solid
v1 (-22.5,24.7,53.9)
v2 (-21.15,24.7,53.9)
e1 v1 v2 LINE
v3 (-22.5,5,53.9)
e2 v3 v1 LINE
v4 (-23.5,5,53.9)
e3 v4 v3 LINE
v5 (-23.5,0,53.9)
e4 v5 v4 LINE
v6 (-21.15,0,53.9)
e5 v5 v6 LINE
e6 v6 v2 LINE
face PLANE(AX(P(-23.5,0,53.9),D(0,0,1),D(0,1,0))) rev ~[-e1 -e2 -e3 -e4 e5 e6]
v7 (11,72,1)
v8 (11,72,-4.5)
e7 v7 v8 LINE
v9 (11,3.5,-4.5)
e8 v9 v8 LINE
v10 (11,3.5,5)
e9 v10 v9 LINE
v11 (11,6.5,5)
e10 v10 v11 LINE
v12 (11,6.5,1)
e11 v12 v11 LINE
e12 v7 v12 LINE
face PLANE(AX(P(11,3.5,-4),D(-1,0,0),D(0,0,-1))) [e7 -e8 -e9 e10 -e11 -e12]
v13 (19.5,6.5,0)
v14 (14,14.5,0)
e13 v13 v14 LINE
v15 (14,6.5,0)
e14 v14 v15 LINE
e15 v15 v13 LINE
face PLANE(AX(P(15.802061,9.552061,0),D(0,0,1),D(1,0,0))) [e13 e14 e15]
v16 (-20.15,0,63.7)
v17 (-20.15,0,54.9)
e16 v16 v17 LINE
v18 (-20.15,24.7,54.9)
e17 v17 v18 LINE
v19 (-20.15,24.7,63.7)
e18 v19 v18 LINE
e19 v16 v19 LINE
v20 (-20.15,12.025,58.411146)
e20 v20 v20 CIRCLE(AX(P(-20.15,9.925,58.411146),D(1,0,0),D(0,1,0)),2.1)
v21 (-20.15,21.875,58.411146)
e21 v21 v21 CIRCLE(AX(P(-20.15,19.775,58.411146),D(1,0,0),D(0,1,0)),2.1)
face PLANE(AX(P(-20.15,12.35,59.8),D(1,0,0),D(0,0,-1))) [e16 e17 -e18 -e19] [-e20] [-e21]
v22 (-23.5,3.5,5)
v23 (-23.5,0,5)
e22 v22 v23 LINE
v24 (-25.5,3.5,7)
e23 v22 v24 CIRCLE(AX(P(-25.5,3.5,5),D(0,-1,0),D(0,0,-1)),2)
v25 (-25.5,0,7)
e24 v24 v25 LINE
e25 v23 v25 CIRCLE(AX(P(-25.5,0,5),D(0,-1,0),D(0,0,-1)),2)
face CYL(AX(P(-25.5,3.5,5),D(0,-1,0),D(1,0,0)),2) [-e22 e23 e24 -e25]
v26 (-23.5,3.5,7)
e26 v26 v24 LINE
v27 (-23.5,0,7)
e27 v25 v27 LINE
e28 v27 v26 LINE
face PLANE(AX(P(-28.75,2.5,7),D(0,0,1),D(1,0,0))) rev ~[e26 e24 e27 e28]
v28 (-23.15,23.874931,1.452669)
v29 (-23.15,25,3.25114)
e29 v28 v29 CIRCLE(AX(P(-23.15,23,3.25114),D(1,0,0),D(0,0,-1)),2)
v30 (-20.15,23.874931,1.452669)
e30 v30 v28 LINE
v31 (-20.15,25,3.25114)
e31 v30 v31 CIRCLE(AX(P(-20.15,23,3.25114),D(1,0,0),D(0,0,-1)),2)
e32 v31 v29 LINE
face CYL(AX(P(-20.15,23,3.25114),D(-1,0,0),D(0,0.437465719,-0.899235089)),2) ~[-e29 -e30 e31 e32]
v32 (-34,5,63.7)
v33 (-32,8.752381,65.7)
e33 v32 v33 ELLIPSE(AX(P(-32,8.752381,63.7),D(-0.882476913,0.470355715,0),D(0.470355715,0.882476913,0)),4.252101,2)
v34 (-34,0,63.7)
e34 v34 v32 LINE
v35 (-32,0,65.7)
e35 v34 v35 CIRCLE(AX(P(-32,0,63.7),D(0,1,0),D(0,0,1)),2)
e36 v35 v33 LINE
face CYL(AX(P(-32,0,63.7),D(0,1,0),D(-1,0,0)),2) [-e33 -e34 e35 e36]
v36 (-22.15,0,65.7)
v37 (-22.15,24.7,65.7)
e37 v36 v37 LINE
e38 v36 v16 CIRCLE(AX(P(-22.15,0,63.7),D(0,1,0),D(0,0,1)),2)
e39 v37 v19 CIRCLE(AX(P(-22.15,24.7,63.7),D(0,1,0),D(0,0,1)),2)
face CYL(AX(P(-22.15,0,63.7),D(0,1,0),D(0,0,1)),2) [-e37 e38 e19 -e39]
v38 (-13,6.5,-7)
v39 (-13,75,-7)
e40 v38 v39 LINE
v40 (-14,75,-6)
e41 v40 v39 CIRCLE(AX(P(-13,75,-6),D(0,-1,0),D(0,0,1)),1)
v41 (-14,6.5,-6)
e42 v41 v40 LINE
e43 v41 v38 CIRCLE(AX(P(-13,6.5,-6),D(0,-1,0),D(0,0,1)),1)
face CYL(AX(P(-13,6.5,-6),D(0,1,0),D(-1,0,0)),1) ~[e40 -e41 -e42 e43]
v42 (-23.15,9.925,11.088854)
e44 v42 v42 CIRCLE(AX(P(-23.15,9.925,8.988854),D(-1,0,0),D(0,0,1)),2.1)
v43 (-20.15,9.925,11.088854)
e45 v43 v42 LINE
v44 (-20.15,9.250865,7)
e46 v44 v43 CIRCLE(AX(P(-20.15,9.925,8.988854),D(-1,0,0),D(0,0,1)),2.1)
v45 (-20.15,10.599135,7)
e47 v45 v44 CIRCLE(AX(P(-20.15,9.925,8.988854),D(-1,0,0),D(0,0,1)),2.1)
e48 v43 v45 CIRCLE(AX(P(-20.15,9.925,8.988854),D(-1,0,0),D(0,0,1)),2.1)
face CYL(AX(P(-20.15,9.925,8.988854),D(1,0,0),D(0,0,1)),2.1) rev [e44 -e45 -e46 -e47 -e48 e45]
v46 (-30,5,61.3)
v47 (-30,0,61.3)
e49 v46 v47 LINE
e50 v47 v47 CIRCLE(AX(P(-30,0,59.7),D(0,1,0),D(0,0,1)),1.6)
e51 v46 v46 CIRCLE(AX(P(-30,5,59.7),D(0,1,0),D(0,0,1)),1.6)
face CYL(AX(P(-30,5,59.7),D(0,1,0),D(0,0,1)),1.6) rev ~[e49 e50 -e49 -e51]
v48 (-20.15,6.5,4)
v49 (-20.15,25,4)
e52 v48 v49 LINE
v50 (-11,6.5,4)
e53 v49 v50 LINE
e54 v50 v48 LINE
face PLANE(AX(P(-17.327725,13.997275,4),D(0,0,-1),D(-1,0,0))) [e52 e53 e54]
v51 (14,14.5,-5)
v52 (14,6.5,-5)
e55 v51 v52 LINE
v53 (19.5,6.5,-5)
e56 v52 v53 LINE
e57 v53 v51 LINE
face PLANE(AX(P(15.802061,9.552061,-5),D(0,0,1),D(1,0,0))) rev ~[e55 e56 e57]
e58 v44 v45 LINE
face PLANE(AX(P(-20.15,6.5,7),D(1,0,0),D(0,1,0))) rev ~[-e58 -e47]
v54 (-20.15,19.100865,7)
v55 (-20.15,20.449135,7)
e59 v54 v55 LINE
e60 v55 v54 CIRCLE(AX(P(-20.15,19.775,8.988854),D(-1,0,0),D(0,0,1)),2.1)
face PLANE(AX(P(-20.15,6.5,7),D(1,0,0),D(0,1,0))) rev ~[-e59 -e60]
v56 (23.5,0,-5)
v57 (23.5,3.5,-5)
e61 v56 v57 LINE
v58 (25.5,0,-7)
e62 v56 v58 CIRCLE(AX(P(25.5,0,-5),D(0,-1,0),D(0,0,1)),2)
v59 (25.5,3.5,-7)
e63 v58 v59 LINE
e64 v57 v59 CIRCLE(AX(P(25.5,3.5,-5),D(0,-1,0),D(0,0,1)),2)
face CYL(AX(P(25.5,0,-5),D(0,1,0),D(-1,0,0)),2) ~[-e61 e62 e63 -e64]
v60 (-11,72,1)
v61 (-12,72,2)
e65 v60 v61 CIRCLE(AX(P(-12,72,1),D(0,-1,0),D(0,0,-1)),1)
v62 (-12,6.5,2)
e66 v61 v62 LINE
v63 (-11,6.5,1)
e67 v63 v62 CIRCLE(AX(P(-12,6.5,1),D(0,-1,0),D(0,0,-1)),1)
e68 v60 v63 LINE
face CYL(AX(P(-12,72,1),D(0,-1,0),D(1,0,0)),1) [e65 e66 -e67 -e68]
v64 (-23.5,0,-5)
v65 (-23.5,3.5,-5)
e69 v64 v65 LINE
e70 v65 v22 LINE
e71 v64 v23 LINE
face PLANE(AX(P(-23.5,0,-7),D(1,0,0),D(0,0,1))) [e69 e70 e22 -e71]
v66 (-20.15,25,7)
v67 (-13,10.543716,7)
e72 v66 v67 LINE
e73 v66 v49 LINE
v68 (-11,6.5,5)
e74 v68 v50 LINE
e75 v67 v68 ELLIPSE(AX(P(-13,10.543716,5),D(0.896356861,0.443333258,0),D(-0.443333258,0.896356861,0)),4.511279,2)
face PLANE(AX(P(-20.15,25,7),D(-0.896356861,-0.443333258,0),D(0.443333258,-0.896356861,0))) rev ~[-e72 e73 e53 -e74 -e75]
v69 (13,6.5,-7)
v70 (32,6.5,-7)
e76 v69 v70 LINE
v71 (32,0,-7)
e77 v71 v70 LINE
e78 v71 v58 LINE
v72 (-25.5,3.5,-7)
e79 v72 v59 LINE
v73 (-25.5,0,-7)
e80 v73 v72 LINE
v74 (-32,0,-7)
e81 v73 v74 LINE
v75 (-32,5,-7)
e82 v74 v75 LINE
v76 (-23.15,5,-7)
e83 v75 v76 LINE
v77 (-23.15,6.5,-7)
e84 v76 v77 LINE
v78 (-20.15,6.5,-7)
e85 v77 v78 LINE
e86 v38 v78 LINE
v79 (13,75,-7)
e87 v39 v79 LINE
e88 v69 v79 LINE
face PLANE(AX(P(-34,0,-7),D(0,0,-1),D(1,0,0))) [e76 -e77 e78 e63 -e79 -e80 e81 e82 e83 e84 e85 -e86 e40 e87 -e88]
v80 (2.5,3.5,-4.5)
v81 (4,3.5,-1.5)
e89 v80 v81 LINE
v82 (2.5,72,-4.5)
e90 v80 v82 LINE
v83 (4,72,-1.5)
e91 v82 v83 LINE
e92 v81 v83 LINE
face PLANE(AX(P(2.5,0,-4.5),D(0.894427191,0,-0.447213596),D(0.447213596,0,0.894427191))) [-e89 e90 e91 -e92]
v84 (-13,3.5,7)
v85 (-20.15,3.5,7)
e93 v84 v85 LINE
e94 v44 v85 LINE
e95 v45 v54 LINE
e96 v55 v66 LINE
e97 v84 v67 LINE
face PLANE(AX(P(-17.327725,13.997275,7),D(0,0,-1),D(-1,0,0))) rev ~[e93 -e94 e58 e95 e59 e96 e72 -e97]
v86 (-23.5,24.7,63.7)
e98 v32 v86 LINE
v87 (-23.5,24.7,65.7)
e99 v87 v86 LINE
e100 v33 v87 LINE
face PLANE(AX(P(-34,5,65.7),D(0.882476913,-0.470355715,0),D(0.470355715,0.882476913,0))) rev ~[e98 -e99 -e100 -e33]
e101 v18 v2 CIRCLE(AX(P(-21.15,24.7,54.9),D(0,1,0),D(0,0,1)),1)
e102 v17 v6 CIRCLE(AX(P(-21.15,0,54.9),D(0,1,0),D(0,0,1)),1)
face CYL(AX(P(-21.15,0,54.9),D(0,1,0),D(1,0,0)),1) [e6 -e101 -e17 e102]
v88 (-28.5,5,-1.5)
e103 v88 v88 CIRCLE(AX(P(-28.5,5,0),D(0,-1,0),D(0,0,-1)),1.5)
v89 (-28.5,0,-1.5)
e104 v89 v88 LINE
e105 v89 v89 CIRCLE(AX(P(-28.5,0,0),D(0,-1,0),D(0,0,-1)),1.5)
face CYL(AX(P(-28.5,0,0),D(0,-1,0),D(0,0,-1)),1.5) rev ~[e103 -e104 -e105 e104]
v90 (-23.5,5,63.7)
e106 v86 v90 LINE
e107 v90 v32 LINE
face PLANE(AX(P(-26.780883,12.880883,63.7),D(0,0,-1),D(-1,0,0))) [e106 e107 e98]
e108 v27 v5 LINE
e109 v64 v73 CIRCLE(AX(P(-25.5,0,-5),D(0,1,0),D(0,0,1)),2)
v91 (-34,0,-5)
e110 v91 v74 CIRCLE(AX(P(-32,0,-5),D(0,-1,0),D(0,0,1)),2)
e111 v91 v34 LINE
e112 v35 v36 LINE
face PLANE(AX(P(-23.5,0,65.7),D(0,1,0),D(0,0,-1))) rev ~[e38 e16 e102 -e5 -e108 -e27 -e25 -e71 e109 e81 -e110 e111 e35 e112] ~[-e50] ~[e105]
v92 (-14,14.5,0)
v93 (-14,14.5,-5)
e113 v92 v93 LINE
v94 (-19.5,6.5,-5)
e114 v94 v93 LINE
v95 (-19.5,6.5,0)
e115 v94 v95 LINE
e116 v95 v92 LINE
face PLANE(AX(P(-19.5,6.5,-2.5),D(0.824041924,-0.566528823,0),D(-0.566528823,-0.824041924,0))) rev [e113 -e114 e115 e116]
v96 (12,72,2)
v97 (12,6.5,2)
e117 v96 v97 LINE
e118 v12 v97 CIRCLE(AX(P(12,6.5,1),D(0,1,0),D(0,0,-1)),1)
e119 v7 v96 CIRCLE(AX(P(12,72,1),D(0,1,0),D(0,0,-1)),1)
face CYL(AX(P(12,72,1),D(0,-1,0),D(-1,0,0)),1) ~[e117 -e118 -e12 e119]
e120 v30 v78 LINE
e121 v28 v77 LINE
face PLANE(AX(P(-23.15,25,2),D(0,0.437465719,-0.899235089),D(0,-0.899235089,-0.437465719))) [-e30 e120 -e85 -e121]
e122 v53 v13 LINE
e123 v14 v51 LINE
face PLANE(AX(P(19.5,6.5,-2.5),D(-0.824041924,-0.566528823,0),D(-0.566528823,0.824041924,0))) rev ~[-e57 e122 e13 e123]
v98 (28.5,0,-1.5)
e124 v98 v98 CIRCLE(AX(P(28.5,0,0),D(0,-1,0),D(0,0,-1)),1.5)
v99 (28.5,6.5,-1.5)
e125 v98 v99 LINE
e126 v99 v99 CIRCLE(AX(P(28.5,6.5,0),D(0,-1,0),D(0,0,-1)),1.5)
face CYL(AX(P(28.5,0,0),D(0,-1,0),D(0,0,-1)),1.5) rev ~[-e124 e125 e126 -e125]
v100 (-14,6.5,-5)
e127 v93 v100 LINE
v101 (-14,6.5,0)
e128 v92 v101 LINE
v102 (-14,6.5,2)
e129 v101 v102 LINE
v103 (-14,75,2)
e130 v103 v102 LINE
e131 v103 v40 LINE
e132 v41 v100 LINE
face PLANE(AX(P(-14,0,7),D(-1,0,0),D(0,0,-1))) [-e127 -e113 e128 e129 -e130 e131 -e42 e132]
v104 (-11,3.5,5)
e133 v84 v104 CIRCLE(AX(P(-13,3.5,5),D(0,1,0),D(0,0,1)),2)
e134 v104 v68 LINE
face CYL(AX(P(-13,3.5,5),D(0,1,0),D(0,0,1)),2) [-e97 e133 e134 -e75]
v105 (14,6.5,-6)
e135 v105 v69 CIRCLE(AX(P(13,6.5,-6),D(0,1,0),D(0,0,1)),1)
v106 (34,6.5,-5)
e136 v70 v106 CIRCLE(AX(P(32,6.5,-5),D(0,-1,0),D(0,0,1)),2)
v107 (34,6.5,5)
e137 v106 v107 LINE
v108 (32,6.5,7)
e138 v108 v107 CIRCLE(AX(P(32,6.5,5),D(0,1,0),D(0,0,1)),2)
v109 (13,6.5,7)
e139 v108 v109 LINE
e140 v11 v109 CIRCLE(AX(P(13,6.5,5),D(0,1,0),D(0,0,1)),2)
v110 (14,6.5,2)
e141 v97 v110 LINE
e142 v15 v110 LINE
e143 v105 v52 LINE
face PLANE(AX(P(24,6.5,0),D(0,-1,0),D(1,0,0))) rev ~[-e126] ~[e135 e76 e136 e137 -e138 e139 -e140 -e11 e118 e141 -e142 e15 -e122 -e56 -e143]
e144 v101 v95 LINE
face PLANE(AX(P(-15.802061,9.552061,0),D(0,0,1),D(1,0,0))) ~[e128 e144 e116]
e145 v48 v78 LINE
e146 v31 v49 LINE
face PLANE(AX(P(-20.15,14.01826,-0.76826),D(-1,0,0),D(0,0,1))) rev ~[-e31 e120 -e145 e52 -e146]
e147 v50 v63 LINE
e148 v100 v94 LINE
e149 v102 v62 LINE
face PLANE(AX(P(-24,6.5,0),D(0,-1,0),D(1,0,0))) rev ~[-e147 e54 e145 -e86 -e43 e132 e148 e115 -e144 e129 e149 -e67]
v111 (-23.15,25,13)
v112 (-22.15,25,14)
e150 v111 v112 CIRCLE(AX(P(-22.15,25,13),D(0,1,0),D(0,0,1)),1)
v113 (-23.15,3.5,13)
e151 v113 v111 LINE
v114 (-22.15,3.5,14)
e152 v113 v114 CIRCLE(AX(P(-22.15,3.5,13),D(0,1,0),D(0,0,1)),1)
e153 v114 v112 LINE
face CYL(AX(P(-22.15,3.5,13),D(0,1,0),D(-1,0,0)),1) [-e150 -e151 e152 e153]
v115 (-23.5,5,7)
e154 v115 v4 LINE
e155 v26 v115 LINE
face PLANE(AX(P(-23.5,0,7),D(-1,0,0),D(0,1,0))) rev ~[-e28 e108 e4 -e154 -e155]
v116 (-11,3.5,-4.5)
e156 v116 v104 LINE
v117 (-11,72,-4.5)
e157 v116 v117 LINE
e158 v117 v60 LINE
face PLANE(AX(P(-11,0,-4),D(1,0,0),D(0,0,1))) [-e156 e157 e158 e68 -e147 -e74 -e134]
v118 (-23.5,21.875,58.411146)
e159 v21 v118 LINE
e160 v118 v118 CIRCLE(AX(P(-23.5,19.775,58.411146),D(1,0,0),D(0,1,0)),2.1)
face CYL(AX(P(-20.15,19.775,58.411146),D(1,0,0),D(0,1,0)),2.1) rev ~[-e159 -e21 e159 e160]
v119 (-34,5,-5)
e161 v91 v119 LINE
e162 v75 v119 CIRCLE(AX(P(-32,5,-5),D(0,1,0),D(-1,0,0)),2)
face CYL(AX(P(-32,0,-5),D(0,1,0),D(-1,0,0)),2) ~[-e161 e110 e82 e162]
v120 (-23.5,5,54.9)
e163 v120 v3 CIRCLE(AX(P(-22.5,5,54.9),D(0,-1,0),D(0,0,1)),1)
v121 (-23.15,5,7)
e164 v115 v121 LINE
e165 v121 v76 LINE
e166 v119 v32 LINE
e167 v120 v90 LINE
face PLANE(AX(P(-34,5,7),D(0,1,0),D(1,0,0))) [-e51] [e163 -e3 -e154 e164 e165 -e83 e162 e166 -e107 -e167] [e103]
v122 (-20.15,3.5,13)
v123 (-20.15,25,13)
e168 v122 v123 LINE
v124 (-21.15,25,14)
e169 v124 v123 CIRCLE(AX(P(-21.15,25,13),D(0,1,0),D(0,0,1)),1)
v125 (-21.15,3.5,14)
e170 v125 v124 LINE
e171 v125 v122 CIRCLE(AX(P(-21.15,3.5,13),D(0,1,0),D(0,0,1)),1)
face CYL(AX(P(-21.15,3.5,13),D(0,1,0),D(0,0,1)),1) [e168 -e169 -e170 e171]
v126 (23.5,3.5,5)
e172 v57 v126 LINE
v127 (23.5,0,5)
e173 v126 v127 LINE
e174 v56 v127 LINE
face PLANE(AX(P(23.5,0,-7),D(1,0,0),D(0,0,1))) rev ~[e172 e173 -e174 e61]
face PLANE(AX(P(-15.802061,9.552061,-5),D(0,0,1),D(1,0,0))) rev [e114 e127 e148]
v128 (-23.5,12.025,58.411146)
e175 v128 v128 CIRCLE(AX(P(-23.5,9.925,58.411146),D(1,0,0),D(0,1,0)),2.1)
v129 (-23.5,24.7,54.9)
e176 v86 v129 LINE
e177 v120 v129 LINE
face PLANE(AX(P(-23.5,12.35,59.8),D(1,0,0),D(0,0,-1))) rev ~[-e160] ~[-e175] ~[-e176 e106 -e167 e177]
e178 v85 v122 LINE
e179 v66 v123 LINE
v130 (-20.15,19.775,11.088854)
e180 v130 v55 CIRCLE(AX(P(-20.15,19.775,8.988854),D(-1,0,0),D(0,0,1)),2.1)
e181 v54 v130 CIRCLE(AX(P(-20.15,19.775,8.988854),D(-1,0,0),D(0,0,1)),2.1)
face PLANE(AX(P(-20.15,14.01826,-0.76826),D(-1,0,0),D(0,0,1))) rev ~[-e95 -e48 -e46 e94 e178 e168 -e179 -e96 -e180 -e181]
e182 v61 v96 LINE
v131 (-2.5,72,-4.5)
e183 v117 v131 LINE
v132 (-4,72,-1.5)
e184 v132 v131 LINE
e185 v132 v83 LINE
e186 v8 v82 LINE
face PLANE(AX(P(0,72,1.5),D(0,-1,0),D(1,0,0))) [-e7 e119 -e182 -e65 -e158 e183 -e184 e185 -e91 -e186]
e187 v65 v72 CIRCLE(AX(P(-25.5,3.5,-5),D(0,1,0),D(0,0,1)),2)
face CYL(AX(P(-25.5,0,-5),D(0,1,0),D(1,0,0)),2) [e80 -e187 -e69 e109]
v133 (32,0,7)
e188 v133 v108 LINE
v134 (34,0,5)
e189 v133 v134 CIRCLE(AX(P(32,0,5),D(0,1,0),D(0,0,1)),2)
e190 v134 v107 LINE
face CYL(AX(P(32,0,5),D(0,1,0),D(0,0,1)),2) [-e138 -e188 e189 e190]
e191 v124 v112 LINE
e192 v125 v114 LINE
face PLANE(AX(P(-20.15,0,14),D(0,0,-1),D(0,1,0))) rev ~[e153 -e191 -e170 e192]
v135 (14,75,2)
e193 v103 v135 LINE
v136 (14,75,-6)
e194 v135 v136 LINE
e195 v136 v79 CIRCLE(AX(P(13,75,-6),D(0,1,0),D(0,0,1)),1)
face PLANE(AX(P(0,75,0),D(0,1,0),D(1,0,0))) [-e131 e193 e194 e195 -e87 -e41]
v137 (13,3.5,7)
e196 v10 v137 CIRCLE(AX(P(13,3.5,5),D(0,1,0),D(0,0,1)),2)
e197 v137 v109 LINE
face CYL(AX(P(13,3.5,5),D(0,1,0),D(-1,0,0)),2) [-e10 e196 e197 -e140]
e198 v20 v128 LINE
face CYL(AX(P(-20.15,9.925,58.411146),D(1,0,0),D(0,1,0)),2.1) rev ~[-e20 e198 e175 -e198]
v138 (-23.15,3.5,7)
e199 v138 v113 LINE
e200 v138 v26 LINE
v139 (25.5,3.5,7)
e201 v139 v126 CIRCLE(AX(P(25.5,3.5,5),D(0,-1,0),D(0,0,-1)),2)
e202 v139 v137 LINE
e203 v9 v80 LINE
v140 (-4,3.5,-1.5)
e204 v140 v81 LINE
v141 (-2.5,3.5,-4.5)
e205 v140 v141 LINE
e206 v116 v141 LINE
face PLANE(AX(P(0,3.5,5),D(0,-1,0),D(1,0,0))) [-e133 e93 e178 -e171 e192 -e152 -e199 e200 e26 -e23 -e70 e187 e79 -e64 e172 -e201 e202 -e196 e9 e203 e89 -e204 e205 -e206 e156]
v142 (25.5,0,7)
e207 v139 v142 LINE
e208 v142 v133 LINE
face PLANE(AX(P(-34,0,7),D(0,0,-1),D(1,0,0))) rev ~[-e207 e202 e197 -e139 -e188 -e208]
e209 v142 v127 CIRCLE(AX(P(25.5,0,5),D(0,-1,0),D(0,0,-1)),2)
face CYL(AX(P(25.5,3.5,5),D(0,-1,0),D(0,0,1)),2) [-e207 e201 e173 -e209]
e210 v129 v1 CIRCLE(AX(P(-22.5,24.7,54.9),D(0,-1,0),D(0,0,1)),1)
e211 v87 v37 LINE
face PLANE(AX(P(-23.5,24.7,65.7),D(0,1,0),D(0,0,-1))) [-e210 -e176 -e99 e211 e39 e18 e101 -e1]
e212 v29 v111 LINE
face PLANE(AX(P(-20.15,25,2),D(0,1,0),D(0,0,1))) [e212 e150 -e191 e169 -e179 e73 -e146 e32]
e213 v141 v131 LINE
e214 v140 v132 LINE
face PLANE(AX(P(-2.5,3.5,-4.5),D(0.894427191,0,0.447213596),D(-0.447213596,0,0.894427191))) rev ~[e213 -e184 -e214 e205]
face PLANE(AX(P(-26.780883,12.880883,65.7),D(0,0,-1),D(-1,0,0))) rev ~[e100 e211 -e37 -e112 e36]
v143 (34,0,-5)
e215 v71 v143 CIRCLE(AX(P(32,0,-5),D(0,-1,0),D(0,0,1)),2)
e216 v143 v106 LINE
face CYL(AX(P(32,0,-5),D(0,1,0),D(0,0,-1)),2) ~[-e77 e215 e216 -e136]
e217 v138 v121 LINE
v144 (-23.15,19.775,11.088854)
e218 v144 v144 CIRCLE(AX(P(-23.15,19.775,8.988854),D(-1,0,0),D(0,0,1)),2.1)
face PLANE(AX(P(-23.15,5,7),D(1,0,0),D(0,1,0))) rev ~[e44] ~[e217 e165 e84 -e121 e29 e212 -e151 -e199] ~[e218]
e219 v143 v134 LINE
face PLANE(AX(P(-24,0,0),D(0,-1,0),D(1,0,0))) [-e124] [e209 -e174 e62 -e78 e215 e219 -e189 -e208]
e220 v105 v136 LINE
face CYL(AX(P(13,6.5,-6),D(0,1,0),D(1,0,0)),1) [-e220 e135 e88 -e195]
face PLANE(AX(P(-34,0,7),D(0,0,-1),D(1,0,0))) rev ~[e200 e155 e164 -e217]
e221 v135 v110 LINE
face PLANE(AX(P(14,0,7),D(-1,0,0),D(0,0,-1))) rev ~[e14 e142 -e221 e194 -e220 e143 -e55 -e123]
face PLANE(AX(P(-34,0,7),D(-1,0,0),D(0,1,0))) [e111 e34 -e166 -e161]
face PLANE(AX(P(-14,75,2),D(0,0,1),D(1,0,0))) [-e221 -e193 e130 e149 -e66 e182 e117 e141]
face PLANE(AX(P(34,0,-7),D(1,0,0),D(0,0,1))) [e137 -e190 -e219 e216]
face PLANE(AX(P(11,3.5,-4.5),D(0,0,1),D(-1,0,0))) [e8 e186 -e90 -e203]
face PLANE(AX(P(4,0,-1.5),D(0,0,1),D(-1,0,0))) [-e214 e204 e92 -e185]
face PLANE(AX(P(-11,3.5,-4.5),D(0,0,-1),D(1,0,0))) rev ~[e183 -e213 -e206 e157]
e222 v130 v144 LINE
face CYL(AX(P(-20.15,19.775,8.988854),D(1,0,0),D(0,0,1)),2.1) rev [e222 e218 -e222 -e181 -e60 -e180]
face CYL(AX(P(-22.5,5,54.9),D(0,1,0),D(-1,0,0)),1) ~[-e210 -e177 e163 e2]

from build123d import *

# Parameters (mm, degrees)
SKETCH_1_W          = 28
SKETCH_1_H          = 14
SKETCH_1_W_2        = 22
SKETCH_1_H_2        = 8
EXTRUDE_1_DEPTH     = 75
SKETCH_2_W          = 22
SKETCH_2_H          = 8
EXTRUDE_2_DEPTH     = 3
SKETCH_3_W          = 22
SKETCH_3_H          = 11
CUT_EXTRUDE_1_DEPTH = 72
SKETCH_4_W          = 20
SKETCH_4_H          = 14
EXTRUDE_3_DEPTH     = 6.5
SKETCH_5_R          = 1.5
CUT_EXTRUDE_2_DEPTH = 83.643814046
FILLET_1_R          = 2
EXTRUDE_5_REACH     = 84.644
SKETCH_9_W          = 28
SKETCH_9_H          = 5
CUT_EXTRUDE_3_DEPTH = 68.5
FILLET_3_R          = 1
EXTRUDE_6_DEPTH     = 2.5
SKETCH_11_W         = 12
SKETCH_11_H         = 25
SKETCH_11_R         = 2.1
EXTRUDE_7_DEPTH     = 3
EXTRUDE_9_DEPTH     = 3
EXTRUDE_8_DEPTH     = 3
SKETCH_16_W         = 47
SKETCH_16_H         = 24
CUT_EXTRUDE_4_DEPTH = 3.5
FILLET_12_R         = 2
FILLET_14_R         = 2
SKETCH_17_W         = 10.5
SKETCH_17_H         = 5
EXTRUDE_10_DEPTH    = 58.7
SKETCH_18_W         = 11.8
SKETCH_18_H         = 24.7
EXTRUDE_11_DEPTH    = 3.35
CUT_EXTRUDE_5_REACH = 115.462
SKETCH_19_R         = 2.1
CUT_EXTRUDE_6_REACH = 103.845
SKETCH_20_R         = 1.6
CUT_EXTRUDE_7_REACH = 103.127
SKETCH_21_W         = 10.85
SKETCH_21_H         = 1.5
EXTRUDE_12_DEPTH    = 2
FILLET_15_R         = 2
FILLET_16_R         = 1
CUT_EXTRUDE_8_DEPTH = 68.5


with BuildPart() as part:
    # 草图1 → 凸台-拉伸1 (new body)
    with BuildSketch(Plane(origin=(0, 0, 0), x_dir=(1, 0, 0), z_dir=(0, 1, 0))):
        Rectangle(SKETCH_1_W, SKETCH_1_H)
        Rectangle(SKETCH_1_W_2, SKETCH_1_H_2, mode=Mode.SUBTRACT)
    extrude(amount=EXTRUDE_1_DEPTH)

    # 草图2 → 凸台-拉伸2 (add)
    with BuildSketch(Plane(origin=(0, 75, 0), x_dir=(1, 0, 0), z_dir=(0, 1, 0))):
        Rectangle(SKETCH_2_W, SKETCH_2_H)
    extrude(amount=-EXTRUDE_2_DEPTH)

    # 草图3 → 切除-拉伸1 (cut)
    with BuildSketch(Plane.XZ):
        with Locations((0, 1.5)):
            Rectangle(SKETCH_3_W, SKETCH_3_H)
    extrude(amount=-CUT_EXTRUDE_1_DEPTH, mode=Mode.SUBTRACT)

    # 草图4 → 凸台-拉伸3 (add)
    with BuildSketch(Plane.XZ):
        with Locations((-24, 0)):
            Rectangle(SKETCH_4_W, SKETCH_4_H)
        with Locations((24, 0)):
            Rectangle(SKETCH_4_W, SKETCH_4_H)
    extrude(amount=-EXTRUDE_3_DEPTH)

    # 草图5 → 切除-拉伸2 (cut, through all)
    with BuildSketch(Plane.XZ):
        with Locations(Location((-28.5, 0, 0), (0, 0, 270))):
            Circle(SKETCH_5_R)
        with Locations(Location((28.5, 0, 0), (0, 0, 270))):
            Circle(SKETCH_5_R)
    extrude(amount=-CUT_EXTRUDE_2_DEPTH, mode=Mode.SUBTRACT)

    # 圆角1
    fillet_1_edges = [part.edges().sort_by_distance(p)[0] for p in [
        (-34, 3.25, -7),
        (34, 3.25, 7),
        (34, 3.25, -7),
    ]]
    fillet(fillet_1_edges, radius=FILLET_1_R)

    # 草图7 → 凸台-拉伸5 (add, up to next)
    with BuildSketch(Plane.XZ, mode=Mode.PRIVATE) as extrude_5_sk1:
        Polygon((-2.5, -4.5), (2.5, -4.5), (4, -1.5), (-4, -1.5), align=None)
    extrude_5_tool1 = extrude(extrude_5_sk1.sketch, amount=-EXTRUDE_5_REACH, mode=Mode.PRIVATE) - part.part
    add(extrude_5_tool1.solids().sort_by_distance((0, 0, -2.884615))[0])

    # 草图9 → 切除-拉伸3 (cut)
    with BuildSketch(Plane(origin=(0, 75, 0), x_dir=(1, 0, 0), z_dir=(0, 1, 0))):
        with Locations((0, -4.5)):
            Rectangle(SKETCH_9_W, SKETCH_9_H)
    extrude(amount=-CUT_EXTRUDE_3_DEPTH, mode=Mode.SUBTRACT)

    # 圆角3
    fillet_3_edges = [part.edges().sort_by_distance(p)[0] for p in [
        (11, 39.25, 2),
        (-11, 39.25, 2),
        (-14, 40.75, -7),
        (14, 40.75, -7),
    ]]
    fillet(fillet_3_edges, radius=FILLET_3_R)

    # 草图10 → 凸台-拉伸6 (add, symmetric)
    with BuildSketch(Plane(origin=(0, 0, -2.5), x_dir=(-1, 0, 0), z_dir=(0, 0, -1))):
        Polygon((-14, 6.5), (-19.5, 6.5), (-14, 14.5), align=None)
    extrude_6 = extrude(amount=EXTRUDE_6_DEPTH, both=True)

    # 镜向2: 凸台-拉伸6 across plane
    add(extrude_6.mirror(Plane(origin=(0, 0, 0), x_dir=(0, 0, 1), z_dir=(1, 0, 0))))

    # 草图11 → 凸台-拉伸7 (add)
    with BuildSketch(Plane.ZY.offset(20.15)):
        with Locations((8, 12.5)):
            Rectangle(SKETCH_11_W, SKETCH_11_H)
        with Locations((8.988854382, 19.775)):
            Circle(SKETCH_11_R, mode=Mode.SUBTRACT)
        with Locations((8.988854382, 9.925)):
            Circle(SKETCH_11_R, mode=Mode.SUBTRACT)
    extrude(amount=EXTRUDE_7_DEPTH)

    # 草图14 → 凸台-拉伸9 (add)
    with BuildSketch(Plane.ZY.offset(23.15)):
        Polygon((2, 25), (-7, 6.5), (2, 6.5), align=None)
    extrude(amount=-EXTRUDE_9_DEPTH)

    # 草图12 → 凸台-拉伸8 (add)
    with BuildSketch(Plane.XY.offset(7)):
        Polygon((-20.15, 6.5), (-20.15, 25), (-11, 6.5), align=None)
    extrude(amount=-EXTRUDE_8_DEPTH)

    # 草图16 → 切除-拉伸4 (cut)
    with BuildSketch(Plane.XZ):
        with Locations((0, 5)):
            Rectangle(SKETCH_16_W, SKETCH_16_H)
    extrude(amount=-CUT_EXTRUDE_4_DEPTH, mode=Mode.SUBTRACT)

    # 圆角12
    fillet_12_edges = [part.edges().sort_by_distance(p)[0] for p in [
        (-11, 5, 7),
        (11, 5, 7),
        (-23.5, 1.75, 7),
        (-23.5, 1.75, -7),
        (23.5, 1.75, 7),
        (23.5, 1.75, -7),
    ]]
    fillet(fillet_12_edges, radius=FILLET_12_R)

    # 圆角14
    fillet_14_edges = [part.edges().sort_by_distance(p)[0] for p in [
        (-21.65, 25, 2),
    ]]
    fillet(fillet_14_edges, radius=FILLET_14_R)

    # 草图17 → 凸台-拉伸10 (add)
    with BuildSketch(Plane.XY.offset(7)):
        with Locations((-28.75, 2.5)):
            Rectangle(SKETCH_17_W, SKETCH_17_H)
    extrude(amount=EXTRUDE_10_DEPTH)

    # 草图18 → 凸台-拉伸11 (add)
    with BuildSketch(Plane(origin=(-23.5, 0, 0), x_dir=(0, 0, -1), z_dir=(1, 0, 0))):
        with Locations((-59.8, 12.35)):
            Rectangle(SKETCH_18_W, SKETCH_18_H)
    extrude(amount=EXTRUDE_11_DEPTH)

    # 草图19 → 切除-拉伸5 (cut, up to next)
    with BuildSketch(Plane(origin=(-20.15, 0, 0), x_dir=(0, 0, -1), z_dir=(1, 0, 0)), mode=Mode.PRIVATE) as cut_extrude_5_sk1:
        with Locations(Location((-58.411145618, 9.925, 0), (0, 0, 90))):
            Circle(SKETCH_19_R)
    cut_extrude_5_tool1 = extrude(cut_extrude_5_sk1.sketch, amount=-CUT_EXTRUDE_5_REACH, mode=Mode.PRIVATE) & part.part
    # 草图19 → 切除-拉伸5 (cut, up to next)
    with BuildSketch(Plane(origin=(-20.15, 0, 0), x_dir=(0, 0, -1), z_dir=(1, 0, 0)), mode=Mode.PRIVATE) as cut_extrude_5_sk2:
        with Locations(Location((-58.411145618, 19.775, 0), (0, 0, 90))):
            Circle(SKETCH_19_R)
    cut_extrude_5_tool2 = extrude(cut_extrude_5_sk2.sketch, amount=-CUT_EXTRUDE_5_REACH, mode=Mode.PRIVATE) & part.part
    add(cut_extrude_5_tool1.solids().sort_by_distance((-20.15, 9.925, 58.411146))[0], mode=Mode.SUBTRACT)
    add(cut_extrude_5_tool2.solids().sort_by_distance((-20.15, 19.775, 58.411146))[0], mode=Mode.SUBTRACT)

    # 草图20 → 切除-拉伸6 (cut, up to next)
    with BuildSketch(Plane(origin=(0, 5, 0), x_dir=(1, 0, 0), z_dir=(0, 1, 0)), mode=Mode.PRIVATE) as cut_extrude_6_sk1:
        with Locations(Location((-30, -59.7, 0), (0, 0, 270))):
            Circle(SKETCH_20_R)
    cut_extrude_6_tool1 = extrude(cut_extrude_6_sk1.sketch, amount=-CUT_EXTRUDE_6_REACH, mode=Mode.PRIVATE) & part.part
    add(cut_extrude_6_tool1.solids().sort_by_distance((-30, 5, 59.7))[0], mode=Mode.SUBTRACT)

    # 草图21 → 切除-拉伸7 (cut, up to next)
    with BuildSketch(Plane.XY.offset(7), mode=Mode.PRIVATE) as cut_extrude_7_sk1:
        with Locations((-28.575, 5.75)):
            Rectangle(SKETCH_21_W, SKETCH_21_H)
    cut_extrude_7_tool1 = extrude(cut_extrude_7_sk1.sketch, amount=-CUT_EXTRUDE_7_REACH, mode=Mode.PRIVATE) & part.part
    add(cut_extrude_7_tool1.solids().sort_by_distance((-28.575, 5.75, 7))[0], mode=Mode.SUBTRACT)

    # 草图22 → 凸台-拉伸12 (add)
    with BuildSketch(Plane.XY.offset(65.7)):
        Polygon((-23.5, 5), (-34, 5), (-23.5, 24.7), align=None)
    extrude(amount=-EXTRUDE_12_DEPTH)

    # 圆角15
    fillet_15_edges = [part.edges().sort_by_distance(p)[0] for p in [
        (-34, 2.5, 65.7),
        (-20.15, 12.35, 65.7),
    ]]
    fillet(fillet_15_edges, radius=FILLET_15_R)

    # 圆角16
    fillet_16_edges = [part.edges().sort_by_distance(p)[0] for p in [
        (-20.15, 14.25, 14),
        (-23.15, 14.25, 14),
        (-23.5, 14.85, 53.9),
        (-20.15, 12.35, 53.9),
    ]]
    fillet(fillet_16_edges, radius=FILLET_16_R)

    # 草图23 → 切除-拉伸8 (cut)
    with BuildSketch(Plane.XZ.offset(-3.5)):
        Polygon((-11, -4), (-11, -4.5), (-2.5, -4.5), (-2.75, -4), align=None)
        Polygon((11, -4), (11, -4.5), (2.5, -4.5), (2.75, -4), align=None)
    extrude(amount=-CUT_EXTRUDE_8_DEPTH, mode=Mode.SUBTRACT)


solid = part.part
